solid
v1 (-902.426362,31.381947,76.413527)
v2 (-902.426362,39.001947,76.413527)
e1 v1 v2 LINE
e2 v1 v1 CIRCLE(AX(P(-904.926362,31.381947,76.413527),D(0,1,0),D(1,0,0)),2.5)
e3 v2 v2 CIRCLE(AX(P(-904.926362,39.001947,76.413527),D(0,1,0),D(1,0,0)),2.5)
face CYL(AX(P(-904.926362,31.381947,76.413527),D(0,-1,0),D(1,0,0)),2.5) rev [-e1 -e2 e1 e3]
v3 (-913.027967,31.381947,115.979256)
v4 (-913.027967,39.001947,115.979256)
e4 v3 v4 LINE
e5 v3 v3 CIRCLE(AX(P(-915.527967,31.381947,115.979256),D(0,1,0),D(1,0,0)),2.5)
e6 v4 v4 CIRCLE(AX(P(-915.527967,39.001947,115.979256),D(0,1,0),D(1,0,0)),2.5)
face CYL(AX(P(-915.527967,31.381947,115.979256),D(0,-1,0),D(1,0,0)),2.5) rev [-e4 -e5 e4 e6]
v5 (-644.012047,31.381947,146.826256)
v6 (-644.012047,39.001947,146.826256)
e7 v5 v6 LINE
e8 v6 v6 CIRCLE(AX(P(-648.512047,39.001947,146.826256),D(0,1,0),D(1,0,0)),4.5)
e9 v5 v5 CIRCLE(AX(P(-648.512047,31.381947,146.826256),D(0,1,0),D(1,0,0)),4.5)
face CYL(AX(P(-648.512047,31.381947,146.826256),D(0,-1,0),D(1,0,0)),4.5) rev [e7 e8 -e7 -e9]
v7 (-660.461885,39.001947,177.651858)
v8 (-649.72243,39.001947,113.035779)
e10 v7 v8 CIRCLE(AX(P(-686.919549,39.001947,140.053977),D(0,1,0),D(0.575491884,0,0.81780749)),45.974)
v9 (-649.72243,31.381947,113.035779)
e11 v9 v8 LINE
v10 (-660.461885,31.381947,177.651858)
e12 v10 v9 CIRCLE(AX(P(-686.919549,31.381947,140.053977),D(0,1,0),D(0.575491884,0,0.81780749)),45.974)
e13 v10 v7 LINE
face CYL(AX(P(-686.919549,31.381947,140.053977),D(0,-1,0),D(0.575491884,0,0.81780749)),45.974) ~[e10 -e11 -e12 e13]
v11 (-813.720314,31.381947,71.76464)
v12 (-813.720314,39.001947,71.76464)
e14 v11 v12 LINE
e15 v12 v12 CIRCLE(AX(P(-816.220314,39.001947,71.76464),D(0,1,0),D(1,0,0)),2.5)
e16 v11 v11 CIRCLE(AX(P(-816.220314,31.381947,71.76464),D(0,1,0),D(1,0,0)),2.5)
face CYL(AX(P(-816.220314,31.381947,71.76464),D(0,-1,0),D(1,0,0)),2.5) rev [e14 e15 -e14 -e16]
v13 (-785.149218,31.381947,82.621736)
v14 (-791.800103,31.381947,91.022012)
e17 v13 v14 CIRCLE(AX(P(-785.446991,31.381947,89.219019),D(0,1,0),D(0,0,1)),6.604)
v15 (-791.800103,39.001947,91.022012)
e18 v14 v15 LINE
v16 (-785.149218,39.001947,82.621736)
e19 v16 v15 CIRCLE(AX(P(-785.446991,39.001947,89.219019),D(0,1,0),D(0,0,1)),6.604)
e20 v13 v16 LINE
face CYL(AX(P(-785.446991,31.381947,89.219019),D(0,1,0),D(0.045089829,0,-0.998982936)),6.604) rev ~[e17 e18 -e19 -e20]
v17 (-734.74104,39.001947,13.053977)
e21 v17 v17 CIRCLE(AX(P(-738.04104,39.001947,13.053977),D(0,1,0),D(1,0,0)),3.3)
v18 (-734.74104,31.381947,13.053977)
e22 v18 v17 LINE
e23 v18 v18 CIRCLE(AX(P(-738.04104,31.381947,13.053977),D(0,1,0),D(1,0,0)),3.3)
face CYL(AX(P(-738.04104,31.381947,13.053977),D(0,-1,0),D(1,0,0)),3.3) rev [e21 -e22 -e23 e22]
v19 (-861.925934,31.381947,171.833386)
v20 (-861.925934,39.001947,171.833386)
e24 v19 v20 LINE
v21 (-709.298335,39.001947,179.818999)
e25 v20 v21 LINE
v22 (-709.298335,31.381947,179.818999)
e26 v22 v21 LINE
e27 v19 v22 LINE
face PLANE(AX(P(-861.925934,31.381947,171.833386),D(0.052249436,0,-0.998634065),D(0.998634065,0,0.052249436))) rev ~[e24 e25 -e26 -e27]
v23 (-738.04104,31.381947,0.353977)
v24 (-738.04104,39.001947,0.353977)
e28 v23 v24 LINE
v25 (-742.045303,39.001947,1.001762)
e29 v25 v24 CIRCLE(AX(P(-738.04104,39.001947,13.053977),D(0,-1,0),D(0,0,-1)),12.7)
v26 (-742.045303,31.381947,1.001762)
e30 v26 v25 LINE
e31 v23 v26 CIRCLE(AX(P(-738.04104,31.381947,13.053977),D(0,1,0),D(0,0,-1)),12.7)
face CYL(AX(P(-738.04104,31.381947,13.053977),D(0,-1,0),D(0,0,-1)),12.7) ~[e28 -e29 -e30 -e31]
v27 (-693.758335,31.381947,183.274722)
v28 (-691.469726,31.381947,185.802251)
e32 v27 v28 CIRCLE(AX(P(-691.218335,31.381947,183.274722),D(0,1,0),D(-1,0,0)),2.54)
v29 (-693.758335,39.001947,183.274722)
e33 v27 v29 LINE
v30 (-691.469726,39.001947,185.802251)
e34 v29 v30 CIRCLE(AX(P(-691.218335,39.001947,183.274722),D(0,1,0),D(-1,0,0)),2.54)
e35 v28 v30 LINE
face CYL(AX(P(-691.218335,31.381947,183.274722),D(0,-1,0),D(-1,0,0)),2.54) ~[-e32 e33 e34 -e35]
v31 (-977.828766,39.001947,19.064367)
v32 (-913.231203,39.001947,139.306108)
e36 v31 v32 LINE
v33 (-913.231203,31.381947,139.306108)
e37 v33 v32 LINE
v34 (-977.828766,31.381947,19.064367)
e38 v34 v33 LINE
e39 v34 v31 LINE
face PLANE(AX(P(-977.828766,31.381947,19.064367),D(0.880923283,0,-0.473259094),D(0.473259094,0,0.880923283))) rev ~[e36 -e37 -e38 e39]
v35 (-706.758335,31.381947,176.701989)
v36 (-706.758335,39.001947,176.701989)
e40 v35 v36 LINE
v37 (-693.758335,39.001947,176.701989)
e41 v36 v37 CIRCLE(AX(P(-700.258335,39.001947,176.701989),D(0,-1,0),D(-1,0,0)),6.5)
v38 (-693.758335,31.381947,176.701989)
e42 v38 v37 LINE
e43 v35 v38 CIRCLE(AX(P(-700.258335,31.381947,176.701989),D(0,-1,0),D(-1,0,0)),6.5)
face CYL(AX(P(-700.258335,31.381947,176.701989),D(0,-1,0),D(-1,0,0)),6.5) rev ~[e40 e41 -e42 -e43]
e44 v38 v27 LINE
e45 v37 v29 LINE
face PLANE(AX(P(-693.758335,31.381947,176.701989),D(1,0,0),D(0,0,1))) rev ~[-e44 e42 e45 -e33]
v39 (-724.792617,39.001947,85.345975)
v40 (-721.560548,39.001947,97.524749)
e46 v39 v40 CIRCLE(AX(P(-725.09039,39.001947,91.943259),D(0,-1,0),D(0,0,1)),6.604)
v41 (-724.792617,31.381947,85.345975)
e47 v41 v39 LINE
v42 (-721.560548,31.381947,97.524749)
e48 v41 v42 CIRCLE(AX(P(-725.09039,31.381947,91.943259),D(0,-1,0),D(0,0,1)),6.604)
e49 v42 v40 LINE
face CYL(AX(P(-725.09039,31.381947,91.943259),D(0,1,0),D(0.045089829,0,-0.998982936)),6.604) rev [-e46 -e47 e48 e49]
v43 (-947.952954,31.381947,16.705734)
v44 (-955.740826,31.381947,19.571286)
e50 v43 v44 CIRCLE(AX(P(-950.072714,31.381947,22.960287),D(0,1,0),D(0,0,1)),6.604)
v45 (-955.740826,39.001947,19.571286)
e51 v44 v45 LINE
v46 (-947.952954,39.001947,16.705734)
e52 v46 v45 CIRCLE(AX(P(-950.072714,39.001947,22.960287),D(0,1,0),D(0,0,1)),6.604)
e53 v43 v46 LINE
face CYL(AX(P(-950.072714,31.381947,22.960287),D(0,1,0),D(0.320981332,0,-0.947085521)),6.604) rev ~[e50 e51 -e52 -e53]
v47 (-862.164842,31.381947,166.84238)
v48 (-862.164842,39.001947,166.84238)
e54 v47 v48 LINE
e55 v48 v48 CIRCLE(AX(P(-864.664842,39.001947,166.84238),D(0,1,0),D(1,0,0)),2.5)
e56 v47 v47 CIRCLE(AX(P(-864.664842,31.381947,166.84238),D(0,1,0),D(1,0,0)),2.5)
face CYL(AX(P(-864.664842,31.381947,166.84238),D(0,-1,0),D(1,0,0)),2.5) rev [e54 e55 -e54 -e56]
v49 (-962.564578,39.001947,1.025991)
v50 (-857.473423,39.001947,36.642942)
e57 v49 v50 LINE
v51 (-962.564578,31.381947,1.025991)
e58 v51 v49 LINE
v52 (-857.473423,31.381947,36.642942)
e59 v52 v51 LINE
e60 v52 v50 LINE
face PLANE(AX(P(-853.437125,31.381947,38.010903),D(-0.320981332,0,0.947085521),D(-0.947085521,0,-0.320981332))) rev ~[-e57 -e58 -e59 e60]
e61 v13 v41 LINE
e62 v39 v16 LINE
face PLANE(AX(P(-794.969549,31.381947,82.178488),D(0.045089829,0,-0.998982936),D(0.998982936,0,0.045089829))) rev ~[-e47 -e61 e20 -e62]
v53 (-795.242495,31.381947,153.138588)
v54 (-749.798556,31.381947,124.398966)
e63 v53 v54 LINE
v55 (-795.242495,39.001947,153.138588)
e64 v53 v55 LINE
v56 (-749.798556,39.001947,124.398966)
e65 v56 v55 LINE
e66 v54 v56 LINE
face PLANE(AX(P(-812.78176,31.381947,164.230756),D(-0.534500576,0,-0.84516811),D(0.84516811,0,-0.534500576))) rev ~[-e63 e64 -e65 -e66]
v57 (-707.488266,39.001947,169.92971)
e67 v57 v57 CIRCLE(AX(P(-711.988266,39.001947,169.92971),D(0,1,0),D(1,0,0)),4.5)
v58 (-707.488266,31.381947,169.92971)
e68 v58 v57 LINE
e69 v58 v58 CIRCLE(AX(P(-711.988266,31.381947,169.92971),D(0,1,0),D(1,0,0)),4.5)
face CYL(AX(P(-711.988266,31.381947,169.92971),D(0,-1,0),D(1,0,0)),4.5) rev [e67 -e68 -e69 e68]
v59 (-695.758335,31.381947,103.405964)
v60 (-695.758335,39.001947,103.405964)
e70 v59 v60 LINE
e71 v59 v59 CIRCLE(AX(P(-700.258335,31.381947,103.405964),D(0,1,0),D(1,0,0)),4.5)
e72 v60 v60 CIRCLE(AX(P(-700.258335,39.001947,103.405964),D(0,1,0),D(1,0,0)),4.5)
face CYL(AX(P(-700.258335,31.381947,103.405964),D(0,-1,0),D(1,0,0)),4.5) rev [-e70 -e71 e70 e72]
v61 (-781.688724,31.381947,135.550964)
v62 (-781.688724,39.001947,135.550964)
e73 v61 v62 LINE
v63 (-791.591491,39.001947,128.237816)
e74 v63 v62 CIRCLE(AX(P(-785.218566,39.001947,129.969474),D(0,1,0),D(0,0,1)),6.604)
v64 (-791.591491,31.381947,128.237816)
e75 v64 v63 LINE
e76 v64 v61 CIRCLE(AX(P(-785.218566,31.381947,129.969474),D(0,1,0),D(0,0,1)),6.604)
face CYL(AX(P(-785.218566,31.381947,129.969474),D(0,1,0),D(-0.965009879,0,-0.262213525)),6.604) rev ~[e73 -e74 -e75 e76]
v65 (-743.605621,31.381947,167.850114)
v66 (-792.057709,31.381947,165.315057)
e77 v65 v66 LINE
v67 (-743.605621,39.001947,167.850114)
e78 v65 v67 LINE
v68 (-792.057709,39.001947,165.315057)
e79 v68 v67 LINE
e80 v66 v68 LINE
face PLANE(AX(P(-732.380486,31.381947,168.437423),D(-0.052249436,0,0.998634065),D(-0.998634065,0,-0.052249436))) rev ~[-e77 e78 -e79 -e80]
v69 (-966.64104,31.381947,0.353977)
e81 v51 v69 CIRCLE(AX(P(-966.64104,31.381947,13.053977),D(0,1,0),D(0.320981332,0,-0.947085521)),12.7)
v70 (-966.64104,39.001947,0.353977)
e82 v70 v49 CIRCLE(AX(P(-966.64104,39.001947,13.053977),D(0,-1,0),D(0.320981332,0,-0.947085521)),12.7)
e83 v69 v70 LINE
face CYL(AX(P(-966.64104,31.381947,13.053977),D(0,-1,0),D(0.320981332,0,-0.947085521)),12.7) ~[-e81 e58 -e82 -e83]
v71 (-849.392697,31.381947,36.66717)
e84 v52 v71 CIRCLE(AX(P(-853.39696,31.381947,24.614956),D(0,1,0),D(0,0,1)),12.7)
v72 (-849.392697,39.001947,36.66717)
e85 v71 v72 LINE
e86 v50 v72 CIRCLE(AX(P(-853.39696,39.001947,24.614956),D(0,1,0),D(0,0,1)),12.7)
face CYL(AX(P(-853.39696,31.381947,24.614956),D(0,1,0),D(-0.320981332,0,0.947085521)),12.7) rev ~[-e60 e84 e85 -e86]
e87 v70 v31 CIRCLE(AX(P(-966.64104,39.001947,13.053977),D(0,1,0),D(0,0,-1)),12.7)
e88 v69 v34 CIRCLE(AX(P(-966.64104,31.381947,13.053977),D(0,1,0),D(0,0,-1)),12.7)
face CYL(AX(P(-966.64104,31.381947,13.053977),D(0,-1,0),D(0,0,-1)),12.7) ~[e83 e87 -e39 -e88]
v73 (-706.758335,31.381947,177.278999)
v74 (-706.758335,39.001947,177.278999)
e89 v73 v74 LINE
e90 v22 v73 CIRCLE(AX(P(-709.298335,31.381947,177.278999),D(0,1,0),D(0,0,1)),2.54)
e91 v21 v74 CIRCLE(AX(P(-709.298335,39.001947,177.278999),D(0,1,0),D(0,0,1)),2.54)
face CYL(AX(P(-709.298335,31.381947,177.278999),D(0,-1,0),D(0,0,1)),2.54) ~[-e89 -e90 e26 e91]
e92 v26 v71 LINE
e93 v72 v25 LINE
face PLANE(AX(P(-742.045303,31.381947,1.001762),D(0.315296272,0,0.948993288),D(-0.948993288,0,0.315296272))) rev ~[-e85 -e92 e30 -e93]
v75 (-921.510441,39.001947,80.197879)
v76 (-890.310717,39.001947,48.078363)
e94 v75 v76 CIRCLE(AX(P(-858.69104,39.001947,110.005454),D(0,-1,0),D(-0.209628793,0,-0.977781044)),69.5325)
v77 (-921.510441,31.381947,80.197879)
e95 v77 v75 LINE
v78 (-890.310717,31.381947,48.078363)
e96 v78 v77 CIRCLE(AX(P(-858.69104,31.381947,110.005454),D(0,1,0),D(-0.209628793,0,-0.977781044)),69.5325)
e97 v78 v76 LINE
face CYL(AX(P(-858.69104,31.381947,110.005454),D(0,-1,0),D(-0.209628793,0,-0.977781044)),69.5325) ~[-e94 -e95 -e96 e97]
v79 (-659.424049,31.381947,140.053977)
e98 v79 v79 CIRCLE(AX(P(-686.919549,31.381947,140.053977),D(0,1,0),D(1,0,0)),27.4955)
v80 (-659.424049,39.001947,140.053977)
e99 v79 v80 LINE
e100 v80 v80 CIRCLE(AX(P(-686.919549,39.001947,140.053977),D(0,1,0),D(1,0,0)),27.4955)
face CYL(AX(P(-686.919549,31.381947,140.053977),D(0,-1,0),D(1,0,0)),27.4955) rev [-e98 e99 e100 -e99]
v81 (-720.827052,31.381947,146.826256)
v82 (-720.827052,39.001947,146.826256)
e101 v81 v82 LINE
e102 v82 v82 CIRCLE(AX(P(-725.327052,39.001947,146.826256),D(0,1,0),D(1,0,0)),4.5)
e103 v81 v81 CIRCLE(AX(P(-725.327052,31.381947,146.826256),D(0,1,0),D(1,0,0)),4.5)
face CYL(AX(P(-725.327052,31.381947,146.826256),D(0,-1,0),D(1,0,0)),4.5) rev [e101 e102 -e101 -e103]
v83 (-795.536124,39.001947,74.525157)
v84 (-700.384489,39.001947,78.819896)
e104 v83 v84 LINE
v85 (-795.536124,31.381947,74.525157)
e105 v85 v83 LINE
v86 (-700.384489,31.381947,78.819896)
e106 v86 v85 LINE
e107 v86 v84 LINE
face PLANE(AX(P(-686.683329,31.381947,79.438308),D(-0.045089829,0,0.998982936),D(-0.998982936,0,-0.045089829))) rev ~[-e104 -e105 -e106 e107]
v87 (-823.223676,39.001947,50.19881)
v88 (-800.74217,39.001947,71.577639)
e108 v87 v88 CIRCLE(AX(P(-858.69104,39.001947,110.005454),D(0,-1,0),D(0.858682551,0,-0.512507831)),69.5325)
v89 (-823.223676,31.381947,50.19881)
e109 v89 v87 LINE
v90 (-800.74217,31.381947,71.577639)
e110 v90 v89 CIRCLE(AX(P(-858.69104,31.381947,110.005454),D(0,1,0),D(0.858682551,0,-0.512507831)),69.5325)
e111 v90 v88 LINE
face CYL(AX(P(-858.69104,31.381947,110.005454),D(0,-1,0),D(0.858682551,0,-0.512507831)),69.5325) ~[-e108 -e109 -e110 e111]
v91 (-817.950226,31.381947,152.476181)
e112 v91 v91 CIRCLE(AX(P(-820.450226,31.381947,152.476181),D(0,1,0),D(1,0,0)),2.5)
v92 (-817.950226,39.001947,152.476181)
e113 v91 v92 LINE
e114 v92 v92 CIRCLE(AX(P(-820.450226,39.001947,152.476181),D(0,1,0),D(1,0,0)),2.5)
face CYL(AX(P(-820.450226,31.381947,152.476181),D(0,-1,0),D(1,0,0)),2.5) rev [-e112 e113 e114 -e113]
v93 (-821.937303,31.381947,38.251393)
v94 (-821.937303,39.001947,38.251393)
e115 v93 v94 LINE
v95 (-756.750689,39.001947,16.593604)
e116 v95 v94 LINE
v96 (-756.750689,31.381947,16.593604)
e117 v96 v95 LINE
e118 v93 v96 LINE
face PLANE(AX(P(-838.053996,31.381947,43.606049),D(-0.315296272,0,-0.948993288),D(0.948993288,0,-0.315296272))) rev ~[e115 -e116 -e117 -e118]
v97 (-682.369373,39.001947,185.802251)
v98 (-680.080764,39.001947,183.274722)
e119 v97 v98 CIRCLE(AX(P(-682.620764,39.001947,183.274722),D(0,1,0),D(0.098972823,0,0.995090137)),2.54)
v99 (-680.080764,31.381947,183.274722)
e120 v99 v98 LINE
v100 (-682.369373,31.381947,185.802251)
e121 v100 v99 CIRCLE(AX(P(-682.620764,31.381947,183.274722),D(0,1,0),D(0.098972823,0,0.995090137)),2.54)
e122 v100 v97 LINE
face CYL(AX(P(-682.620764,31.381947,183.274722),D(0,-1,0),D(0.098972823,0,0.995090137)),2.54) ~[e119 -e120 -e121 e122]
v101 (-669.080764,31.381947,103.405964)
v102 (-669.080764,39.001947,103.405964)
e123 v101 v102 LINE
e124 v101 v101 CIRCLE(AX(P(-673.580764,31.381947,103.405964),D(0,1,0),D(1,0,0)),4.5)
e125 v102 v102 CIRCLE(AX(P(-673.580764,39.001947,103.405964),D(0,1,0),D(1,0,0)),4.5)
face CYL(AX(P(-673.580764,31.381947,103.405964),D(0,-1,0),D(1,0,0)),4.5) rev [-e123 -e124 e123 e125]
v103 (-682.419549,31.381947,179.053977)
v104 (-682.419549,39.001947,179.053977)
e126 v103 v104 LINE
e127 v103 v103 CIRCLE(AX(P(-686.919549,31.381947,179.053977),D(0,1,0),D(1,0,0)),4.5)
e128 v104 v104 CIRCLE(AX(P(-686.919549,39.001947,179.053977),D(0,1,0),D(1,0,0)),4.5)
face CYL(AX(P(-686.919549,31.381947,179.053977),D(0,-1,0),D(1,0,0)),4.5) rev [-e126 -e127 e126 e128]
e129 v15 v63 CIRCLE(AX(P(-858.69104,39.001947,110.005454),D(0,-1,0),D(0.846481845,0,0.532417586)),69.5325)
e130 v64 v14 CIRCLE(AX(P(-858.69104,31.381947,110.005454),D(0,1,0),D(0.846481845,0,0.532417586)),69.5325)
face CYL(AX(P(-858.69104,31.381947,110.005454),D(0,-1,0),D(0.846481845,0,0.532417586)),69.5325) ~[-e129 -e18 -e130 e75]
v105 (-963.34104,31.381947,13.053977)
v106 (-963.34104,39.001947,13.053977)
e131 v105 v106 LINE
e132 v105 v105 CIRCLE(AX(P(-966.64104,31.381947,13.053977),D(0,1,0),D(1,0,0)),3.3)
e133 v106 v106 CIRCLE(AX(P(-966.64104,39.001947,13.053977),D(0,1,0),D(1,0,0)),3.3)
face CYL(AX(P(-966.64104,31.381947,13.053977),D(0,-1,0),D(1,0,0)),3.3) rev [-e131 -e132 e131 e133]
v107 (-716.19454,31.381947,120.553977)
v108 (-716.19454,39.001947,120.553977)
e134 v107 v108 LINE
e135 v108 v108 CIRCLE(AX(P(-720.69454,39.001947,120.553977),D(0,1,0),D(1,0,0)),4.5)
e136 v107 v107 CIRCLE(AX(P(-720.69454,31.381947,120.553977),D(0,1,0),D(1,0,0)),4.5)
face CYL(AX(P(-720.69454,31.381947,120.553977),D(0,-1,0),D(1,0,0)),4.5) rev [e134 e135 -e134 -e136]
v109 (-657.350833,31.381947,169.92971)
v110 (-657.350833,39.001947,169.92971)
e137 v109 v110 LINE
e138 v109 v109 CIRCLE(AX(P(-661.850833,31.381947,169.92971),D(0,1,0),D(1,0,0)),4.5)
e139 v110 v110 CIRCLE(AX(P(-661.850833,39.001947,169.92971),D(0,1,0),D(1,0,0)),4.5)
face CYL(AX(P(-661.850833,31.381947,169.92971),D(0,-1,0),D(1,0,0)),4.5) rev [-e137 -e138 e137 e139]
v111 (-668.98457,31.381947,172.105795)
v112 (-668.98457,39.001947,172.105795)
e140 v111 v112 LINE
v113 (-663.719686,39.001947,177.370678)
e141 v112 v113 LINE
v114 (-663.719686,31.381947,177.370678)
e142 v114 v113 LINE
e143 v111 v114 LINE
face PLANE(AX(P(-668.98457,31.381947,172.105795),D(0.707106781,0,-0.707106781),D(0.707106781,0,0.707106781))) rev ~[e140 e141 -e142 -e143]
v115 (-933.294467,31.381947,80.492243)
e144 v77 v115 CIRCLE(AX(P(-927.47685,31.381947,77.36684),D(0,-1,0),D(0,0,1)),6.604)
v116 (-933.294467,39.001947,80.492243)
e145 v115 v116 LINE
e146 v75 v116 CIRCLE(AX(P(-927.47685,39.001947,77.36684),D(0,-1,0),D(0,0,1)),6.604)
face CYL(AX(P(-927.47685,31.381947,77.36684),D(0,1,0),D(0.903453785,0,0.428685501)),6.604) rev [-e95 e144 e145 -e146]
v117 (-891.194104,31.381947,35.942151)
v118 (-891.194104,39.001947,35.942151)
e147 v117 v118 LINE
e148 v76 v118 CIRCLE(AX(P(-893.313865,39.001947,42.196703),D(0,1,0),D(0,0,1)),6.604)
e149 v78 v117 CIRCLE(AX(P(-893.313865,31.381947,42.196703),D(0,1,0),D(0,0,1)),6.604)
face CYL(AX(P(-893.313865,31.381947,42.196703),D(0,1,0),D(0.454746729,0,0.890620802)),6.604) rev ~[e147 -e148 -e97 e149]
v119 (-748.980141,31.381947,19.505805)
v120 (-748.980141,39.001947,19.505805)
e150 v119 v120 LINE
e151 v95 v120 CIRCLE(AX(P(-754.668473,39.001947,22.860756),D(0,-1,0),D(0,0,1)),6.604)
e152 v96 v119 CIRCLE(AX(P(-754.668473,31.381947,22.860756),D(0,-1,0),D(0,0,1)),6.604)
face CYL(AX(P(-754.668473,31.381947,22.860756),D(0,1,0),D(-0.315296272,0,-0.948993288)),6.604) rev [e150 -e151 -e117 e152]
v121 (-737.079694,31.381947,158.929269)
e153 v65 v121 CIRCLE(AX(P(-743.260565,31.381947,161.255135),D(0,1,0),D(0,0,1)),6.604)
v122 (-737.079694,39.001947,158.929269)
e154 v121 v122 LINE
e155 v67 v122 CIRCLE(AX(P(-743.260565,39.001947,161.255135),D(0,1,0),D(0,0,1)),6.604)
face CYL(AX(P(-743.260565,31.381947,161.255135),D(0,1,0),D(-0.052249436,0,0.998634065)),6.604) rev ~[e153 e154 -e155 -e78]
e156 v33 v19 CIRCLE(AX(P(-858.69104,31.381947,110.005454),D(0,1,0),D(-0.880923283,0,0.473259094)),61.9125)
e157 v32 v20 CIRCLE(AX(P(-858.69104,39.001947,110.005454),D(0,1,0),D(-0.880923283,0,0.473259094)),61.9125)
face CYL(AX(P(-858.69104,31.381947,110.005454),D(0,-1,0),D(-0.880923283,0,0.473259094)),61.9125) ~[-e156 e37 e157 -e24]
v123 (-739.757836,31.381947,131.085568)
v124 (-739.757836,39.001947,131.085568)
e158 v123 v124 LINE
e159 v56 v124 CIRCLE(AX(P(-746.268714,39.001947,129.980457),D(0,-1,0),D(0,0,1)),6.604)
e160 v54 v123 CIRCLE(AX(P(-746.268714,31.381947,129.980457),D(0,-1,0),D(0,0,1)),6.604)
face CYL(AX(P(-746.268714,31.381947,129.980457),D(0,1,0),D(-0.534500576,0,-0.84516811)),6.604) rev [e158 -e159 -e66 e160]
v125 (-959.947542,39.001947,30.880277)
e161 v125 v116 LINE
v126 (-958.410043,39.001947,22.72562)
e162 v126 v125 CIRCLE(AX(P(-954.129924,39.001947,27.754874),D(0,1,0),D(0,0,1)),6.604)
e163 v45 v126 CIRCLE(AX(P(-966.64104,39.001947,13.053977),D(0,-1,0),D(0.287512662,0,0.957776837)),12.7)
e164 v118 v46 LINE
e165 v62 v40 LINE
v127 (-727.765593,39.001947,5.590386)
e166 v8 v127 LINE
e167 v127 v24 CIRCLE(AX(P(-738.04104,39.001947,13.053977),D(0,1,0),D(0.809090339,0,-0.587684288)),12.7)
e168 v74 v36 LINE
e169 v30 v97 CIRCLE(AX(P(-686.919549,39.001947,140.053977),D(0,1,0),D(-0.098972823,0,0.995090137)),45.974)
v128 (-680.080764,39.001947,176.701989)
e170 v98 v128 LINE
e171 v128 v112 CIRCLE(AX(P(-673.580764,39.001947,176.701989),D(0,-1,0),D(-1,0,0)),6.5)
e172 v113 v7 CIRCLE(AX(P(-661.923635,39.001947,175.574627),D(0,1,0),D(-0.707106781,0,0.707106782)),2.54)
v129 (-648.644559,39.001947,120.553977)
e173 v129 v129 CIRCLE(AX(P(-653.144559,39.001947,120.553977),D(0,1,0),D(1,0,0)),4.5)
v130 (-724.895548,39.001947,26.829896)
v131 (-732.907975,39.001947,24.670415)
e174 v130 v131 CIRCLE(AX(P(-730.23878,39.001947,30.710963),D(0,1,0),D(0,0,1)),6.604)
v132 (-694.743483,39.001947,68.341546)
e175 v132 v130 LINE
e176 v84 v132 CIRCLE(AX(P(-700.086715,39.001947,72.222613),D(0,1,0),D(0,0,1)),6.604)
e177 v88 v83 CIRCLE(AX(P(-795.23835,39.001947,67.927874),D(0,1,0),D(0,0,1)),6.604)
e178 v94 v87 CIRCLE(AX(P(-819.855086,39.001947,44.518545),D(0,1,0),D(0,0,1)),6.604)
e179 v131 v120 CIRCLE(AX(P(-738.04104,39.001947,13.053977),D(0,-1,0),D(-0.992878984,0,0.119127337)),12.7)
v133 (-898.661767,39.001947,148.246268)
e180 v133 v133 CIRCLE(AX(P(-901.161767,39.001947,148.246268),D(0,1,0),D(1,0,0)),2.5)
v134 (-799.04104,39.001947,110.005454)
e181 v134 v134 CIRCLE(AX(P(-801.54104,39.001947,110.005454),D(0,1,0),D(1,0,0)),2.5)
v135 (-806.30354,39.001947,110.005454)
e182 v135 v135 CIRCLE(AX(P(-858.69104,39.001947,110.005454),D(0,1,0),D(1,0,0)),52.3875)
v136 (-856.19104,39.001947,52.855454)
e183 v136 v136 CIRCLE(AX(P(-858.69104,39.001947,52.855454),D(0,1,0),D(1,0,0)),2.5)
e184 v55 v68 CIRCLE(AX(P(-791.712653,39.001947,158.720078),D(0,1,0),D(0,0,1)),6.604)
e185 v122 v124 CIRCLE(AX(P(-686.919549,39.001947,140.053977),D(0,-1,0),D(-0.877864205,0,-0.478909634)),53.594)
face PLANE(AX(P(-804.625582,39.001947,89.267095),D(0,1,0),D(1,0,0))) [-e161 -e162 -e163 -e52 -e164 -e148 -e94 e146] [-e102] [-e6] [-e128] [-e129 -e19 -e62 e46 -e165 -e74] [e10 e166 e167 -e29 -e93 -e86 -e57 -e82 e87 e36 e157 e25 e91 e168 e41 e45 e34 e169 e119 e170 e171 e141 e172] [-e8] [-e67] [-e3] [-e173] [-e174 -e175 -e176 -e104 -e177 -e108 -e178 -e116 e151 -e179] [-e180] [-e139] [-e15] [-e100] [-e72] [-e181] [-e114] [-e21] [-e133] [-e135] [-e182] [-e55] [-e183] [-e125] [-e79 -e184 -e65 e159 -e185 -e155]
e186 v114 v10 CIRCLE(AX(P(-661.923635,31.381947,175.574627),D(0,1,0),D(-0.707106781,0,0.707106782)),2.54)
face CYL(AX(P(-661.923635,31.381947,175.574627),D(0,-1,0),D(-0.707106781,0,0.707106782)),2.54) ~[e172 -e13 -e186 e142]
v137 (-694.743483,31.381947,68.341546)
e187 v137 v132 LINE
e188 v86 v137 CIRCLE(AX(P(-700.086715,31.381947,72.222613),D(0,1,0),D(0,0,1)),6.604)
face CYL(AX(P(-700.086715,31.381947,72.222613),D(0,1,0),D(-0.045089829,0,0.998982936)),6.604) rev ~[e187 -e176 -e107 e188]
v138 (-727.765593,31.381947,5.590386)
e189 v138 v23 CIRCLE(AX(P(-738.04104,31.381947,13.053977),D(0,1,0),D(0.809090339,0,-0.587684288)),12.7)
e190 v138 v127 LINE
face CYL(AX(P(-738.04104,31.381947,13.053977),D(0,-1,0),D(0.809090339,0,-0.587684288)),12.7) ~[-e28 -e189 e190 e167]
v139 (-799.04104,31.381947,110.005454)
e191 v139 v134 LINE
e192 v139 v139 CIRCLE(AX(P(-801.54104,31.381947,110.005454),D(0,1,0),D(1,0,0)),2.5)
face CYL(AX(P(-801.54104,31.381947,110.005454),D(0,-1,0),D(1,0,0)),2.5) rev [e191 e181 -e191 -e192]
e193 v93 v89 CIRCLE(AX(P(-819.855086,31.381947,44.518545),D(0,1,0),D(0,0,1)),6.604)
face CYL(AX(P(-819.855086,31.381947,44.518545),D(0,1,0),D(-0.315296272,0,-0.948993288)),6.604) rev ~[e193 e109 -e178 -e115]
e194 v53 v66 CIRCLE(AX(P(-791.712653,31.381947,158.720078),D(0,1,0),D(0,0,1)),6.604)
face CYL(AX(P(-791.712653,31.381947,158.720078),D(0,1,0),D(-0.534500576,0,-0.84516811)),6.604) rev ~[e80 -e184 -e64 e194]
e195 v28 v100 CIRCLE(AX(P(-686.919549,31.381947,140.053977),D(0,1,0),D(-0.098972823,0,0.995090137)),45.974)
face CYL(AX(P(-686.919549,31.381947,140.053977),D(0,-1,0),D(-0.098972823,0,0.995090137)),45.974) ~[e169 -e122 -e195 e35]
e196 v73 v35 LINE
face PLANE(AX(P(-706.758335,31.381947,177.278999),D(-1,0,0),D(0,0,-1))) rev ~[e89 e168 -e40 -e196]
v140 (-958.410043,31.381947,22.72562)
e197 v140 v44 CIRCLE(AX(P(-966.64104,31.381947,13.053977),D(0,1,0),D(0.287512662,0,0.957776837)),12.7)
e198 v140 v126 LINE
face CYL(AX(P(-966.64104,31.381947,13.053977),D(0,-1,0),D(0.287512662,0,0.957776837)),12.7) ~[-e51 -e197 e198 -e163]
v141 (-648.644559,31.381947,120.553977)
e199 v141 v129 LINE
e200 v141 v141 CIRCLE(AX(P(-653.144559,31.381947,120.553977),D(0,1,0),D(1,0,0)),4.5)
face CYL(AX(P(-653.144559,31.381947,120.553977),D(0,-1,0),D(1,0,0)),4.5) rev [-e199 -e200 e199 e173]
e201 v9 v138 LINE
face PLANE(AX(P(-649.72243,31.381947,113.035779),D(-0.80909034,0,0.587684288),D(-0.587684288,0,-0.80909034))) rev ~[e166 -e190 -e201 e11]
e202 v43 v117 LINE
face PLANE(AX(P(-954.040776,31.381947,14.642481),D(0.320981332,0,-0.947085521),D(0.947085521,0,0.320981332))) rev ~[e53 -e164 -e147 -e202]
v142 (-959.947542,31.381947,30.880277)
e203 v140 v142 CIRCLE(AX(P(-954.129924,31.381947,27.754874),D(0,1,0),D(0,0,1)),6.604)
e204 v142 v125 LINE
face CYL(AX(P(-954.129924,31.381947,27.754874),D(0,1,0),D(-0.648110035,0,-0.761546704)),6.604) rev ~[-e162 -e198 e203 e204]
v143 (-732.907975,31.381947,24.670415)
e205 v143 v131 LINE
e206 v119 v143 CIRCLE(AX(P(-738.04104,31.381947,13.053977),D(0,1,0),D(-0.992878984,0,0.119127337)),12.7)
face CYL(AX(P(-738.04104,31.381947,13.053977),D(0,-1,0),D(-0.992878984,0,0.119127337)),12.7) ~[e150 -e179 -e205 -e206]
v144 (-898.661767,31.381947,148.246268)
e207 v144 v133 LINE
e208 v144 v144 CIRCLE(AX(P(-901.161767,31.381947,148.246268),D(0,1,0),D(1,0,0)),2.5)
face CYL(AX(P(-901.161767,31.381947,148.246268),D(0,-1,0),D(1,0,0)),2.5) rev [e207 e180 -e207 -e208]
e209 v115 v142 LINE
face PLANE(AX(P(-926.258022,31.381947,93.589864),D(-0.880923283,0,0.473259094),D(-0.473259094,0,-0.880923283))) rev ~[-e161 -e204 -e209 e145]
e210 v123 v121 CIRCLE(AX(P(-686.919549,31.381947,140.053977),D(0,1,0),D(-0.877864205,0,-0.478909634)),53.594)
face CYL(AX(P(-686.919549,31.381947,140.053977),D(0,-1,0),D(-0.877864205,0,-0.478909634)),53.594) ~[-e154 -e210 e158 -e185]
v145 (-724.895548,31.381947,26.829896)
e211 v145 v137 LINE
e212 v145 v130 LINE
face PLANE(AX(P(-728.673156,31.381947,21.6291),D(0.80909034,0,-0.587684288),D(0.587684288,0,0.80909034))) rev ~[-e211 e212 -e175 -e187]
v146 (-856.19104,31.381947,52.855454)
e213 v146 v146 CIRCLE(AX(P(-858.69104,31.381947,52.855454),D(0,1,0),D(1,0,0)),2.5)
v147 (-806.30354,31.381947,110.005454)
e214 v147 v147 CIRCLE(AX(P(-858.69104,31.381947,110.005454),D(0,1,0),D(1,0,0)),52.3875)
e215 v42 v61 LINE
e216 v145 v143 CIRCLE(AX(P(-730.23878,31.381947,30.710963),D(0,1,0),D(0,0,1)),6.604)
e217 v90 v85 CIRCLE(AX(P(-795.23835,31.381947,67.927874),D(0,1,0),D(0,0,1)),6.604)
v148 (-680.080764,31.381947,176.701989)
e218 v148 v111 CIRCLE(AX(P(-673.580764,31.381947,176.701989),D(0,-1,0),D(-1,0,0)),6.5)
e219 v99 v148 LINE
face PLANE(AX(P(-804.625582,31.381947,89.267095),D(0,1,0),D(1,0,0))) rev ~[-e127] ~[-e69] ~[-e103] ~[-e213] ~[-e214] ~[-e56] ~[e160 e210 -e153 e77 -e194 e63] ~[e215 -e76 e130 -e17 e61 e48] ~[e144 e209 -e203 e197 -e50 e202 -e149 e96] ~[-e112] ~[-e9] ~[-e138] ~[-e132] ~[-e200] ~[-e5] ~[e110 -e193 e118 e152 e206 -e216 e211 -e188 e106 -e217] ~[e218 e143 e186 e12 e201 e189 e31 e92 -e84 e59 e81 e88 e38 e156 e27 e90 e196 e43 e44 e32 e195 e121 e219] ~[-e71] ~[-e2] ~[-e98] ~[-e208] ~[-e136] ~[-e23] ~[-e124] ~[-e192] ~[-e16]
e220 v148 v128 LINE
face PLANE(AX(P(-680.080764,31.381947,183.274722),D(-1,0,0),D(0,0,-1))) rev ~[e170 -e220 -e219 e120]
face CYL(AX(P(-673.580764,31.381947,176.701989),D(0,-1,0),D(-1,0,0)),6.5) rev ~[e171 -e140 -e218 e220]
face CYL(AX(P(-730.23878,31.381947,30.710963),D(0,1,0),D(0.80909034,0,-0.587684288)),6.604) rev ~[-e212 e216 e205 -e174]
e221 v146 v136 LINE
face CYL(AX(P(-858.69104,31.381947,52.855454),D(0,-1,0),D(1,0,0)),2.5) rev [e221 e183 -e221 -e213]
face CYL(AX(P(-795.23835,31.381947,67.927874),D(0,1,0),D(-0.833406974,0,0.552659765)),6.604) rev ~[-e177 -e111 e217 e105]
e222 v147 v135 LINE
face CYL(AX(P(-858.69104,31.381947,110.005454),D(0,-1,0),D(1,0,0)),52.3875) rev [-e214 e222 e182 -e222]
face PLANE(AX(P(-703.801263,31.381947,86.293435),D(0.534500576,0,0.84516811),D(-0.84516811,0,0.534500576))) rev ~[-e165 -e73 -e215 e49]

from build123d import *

# Parameters (mm, degrees)
SKETCH2_R           = 4.5
SKETCH2_R_2         = 27.4955
SKETCH2_R_3         = 2.5
SKETCH2_R_4         = 52.3875
SKETCH2_R_5         = 3.3
BOSS_EXTRUDE1_DEPTH = 7.62
CUT_EXTRUDE1_DEPTH  = 997.881811459
FILLET2_R           = 12.7
CUT_EXTRUDE2_DEPTH  = 997.881811459
FILLET3_R           = 6.604


with BuildPart() as part:
    # Sketch2 → Boss-Extrude1 (new body)
    with BuildSketch(Plane(origin=(0, 31.381947118, 0), x_dir=(1, 0, 0), z_dir=(0, 1, 0))):
        with BuildLine():
            ThreePointArc((-706.758334948, -176.701988839), (-700.258334948, -170.201988839), (-693.758334948, -176.701988839))
            Line((-693.758334948, -176.701988839), (-693.758334948, -183.274721629))
            ThreePointArc((-693.758334948, -183.274721629), (-693.101169654, -184.979577479), (-691.469725918, -185.802250576))
            ThreePointArc((-691.469725918, -185.802250576), (-686.919549358, -186.027976628), (-682.369372798, -185.802250576))
            ThreePointArc((-682.369372798, -185.802250576), (-680.737929062, -184.979577479), (-680.080763768, -183.274721629))
            Line((-680.080763768, -183.274721629), (-680.080763768, -176.701988839))
            ThreePointArc((-680.080763768, -176.701988839), (-676.068206079, -170.696771877), (-668.984569691, -172.105794761))
            Line((-668.984569691, -172.105794761), (-663.719686073, -177.370678379))
            ThreePointArc((-663.719686073, -177.370678379), (-662.142049476, -178.105218992), (-660.461885462, -177.651858179))
            ThreePointArc((-660.461885462, -177.651858179), (-641.567677603, -147.591642333), (-649.722430089, -113.035779166))
            Line((-649.722430089, -113.035779166), (-727.765593148, -5.590386169))
            ThreePointArc((-727.765593148, -5.590386169), (-732.27465506, -1.738553551), (-738.04104046, -0.353976628))
            Line((-738.04104046, -0.353976628), (-966.64104046, -0.353976628))
            ThreePointArc((-966.64104046, -0.353976628), (-977.541085398, -6.536383487), (-977.828766149, -19.064367123))
            Line((-977.828766149, -19.064367123), (-913.231203194, -139.306107665))
            ThreePointArc((-913.231203194, -139.306107665), (-891.842137326, -162.294673087), (-861.92593364, -171.83338557))
            Line((-861.92593364, -171.83338557), (-709.298334948, -179.818999281))
            ThreePointArc((-709.298334948, -179.818999281), (-707.502283723, -179.075050505), (-706.758334948, -177.278999281))
            Line((-706.758334948, -177.278999281), (-706.758334948, -176.701988839))
        make_face()
        with Locations((-686.919549358, -179.053976628)):
            Circle(SKETCH2_R, mode=Mode.SUBTRACT)
        with Locations((-711.988266136, -169.92970991)):
            Circle(SKETCH2_R, mode=Mode.SUBTRACT)
        with Locations((-661.85083258, -169.92970991)):
            Circle(SKETCH2_R, mode=Mode.SUBTRACT)
        with Locations((-725.327051725, -146.826255557)):
            Circle(SKETCH2_R, mode=Mode.SUBTRACT)
        with Locations((-686.919549358, -140.053976628)):
            Circle(SKETCH2_R_2, mode=Mode.SUBTRACT)
        with Locations((-648.51204699, -146.826255557)):
            Circle(SKETCH2_R, mode=Mode.SUBTRACT)
        with Locations((-720.694540106, -120.553976628)):
            Circle(SKETCH2_R, mode=Mode.SUBTRACT)
        with Locations((-653.14455861, -120.553976628)):
            Circle(SKETCH2_R, mode=Mode.SUBTRACT)
        with Locations((-700.258334948, -103.405964417)):
            Circle(SKETCH2_R, mode=Mode.SUBTRACT)
        with Locations((-673.580763768, -103.405964417)):
            Circle(SKETCH2_R, mode=Mode.SUBTRACT)
        with Locations((-858.69104046, -52.855453999)):
            Circle(SKETCH2_R_3, mode=Mode.SUBTRACT)
        with Locations((-816.220313684, -71.764639846)):
            Circle(SKETCH2_R_3, mode=Mode.SUBTRACT)
        with Locations((-901.161767236, -148.246268152)):
            Circle(SKETCH2_R_3, mode=Mode.SUBTRACT)
        with Locations((-864.664842136, -166.842380319)):
            Circle(SKETCH2_R_3, mode=Mode.SUBTRACT)
        with Locations((-820.450226307, -152.476180775)):
            Circle(SKETCH2_R_3, mode=Mode.SUBTRACT)
        with Locations((-915.52796678, -115.979255675)):
            Circle(SKETCH2_R_3, mode=Mode.SUBTRACT)
        with Locations((-858.69104046, -110.005453999)):
            Circle(SKETCH2_R_4, mode=Mode.SUBTRACT)
        with Locations((-801.54104046, -110.005453999)):
            Circle(SKETCH2_R_3, mode=Mode.SUBTRACT)
        with Locations((-904.926361688, -76.41352683)):
            Circle(SKETCH2_R_3, mode=Mode.SUBTRACT)
        with Locations((-966.64104046, -13.053976628)):
            Circle(SKETCH2_R_5, mode=Mode.SUBTRACT)
        with Locations((-738.04104046, -13.053976628)):
            Circle(SKETCH2_R_5, mode=Mode.SUBTRACT)
    extrude(amount=BOSS_EXTRUDE1_DEPTH)

    # Sketch3 → Cut-Extrude1 (cut, through all)
    with BuildSketch(Plane.XZ.offset(-31.381947118)):
        with BuildLine():
            Line((-966.64104046, 0.353976628), (-738.04104046, 0.353976628))
            ThreePointArc((-738.04104046, 0.353976628), (-740.069201275, 0.516968863), (-742.04530312, 1.001761871))
            Line((-742.04530312, 1.001761871), (-853.43712543, 38.010902819))
            Line((-853.43712543, 38.010902819), (-962.564577542, 1.025990509))
            ThreePointArc((-962.564577542, 1.025990509), (-964.575298912, 0.523106273), (-966.64104046, 0.353976628))
        make_face()
    extrude(amount=-CUT_EXTRUDE1_DEPTH, mode=Mode.SUBTRACT)

    # Fillet2
    fillet2_edges = [part.edges().sort_by_distance(p)[0] for p in [
        (-853.43712543, 35.191947118, 38.010902819),
    ]]
    fillet(fillet2_edges, radius=FILLET2_R)

    # Sketch4 → Cut-Extrude2 (cut, through all)
    with BuildSketch(Plane.XZ.offset(-31.381947118)):
        with BuildLine():
            Line((-926.258021859, 93.58986443), (-962.98962965, 25.217742455))
            ThreePointArc((-962.98962965, 25.217742455), (-956.946285575, 21.25773965), (-954.040776426, 14.642481046))
            Line((-954.040776426, 14.642481046), (-873.267054524, 42.017893591))
            ThreePointArc((-873.267054524, 42.017893591), (-907.186246099, 60.175908684), (-926.258021859, 93.58986443))
        make_face()
        with BuildLine():
            ThreePointArc((-750.650603562, 14.566893802), (-741.92637281, 25.145055675), (-728.673155688, 21.629099653))
            Line((-728.673155688, 21.629099653), (-686.683328555, 79.438308061))
            Line((-686.683328555, 79.438308061), (-798.984695976, 74.369503266))
            ThreePointArc((-798.984695976, 74.369503266), (-815.675199469, 55.375736994), (-838.053995618, 43.60604936))
            Line((-838.053995618, 43.60604936), (-750.650603562, 14.566893802))
        make_face()
        with BuildLine():
            ThreePointArc((-733.967803565, 114.387293709), (-740.490453219, 141.627220261), (-732.380486266, 168.437423414))
            Line((-732.380486266, 168.437423414), (-812.781759902, 164.230756215))
            Line((-812.781759902, 164.230756215), (-733.967803565, 114.387293709))
        make_face()
        with BuildLine():
            Line((-703.801263295, 86.293435405), (-799.833041569, 147.025779805))
            ThreePointArc((-799.833041569, 147.025779805), (-789.353275134, 115.205728597), (-794.969548727, 82.178487805))
            Line((-794.969548727, 82.178487805), (-703.801263295, 86.293435405))
        make_face()
    extrude(amount=-CUT_EXTRUDE2_DEPTH, mode=Mode.SUBTRACT)

    # Fillet3
    fillet3_edges = [part.edges().sort_by_distance(p)[0] for p in [
        (-733.967803565, 35.191947118, 114.387293709),
        (-732.380486266, 35.191947118, 168.437423414),
        (-812.781759902, 35.191947118, 164.230756215),
        (-703.801263295, 35.191947118, 86.293435405),
        (-794.969548727, 35.191947118, 82.178487805),
        (-799.833041569, 35.191947118, 147.025779805),
        (-686.683328555, 35.191947118, 79.438308061),
        (-798.984695976, 35.191947118, 74.369503266),
        (-838.053995618, 35.191947118, 43.60604936),
        (-750.650603562, 35.191947118, 14.566893802),
        (-728.673155688, 35.191947118, 21.629099653),
        (-954.040776426, 35.191947118, 14.642481046),
        (-962.98962965, 35.191947118, 25.217742455),
        (-873.267054524, 35.191947118, 42.017893591),
        (-926.258021859, 35.191947118, 93.58986443),
    ]]
    fillet(fillet3_edges, radius=FILLET3_R)


solid = part.part
